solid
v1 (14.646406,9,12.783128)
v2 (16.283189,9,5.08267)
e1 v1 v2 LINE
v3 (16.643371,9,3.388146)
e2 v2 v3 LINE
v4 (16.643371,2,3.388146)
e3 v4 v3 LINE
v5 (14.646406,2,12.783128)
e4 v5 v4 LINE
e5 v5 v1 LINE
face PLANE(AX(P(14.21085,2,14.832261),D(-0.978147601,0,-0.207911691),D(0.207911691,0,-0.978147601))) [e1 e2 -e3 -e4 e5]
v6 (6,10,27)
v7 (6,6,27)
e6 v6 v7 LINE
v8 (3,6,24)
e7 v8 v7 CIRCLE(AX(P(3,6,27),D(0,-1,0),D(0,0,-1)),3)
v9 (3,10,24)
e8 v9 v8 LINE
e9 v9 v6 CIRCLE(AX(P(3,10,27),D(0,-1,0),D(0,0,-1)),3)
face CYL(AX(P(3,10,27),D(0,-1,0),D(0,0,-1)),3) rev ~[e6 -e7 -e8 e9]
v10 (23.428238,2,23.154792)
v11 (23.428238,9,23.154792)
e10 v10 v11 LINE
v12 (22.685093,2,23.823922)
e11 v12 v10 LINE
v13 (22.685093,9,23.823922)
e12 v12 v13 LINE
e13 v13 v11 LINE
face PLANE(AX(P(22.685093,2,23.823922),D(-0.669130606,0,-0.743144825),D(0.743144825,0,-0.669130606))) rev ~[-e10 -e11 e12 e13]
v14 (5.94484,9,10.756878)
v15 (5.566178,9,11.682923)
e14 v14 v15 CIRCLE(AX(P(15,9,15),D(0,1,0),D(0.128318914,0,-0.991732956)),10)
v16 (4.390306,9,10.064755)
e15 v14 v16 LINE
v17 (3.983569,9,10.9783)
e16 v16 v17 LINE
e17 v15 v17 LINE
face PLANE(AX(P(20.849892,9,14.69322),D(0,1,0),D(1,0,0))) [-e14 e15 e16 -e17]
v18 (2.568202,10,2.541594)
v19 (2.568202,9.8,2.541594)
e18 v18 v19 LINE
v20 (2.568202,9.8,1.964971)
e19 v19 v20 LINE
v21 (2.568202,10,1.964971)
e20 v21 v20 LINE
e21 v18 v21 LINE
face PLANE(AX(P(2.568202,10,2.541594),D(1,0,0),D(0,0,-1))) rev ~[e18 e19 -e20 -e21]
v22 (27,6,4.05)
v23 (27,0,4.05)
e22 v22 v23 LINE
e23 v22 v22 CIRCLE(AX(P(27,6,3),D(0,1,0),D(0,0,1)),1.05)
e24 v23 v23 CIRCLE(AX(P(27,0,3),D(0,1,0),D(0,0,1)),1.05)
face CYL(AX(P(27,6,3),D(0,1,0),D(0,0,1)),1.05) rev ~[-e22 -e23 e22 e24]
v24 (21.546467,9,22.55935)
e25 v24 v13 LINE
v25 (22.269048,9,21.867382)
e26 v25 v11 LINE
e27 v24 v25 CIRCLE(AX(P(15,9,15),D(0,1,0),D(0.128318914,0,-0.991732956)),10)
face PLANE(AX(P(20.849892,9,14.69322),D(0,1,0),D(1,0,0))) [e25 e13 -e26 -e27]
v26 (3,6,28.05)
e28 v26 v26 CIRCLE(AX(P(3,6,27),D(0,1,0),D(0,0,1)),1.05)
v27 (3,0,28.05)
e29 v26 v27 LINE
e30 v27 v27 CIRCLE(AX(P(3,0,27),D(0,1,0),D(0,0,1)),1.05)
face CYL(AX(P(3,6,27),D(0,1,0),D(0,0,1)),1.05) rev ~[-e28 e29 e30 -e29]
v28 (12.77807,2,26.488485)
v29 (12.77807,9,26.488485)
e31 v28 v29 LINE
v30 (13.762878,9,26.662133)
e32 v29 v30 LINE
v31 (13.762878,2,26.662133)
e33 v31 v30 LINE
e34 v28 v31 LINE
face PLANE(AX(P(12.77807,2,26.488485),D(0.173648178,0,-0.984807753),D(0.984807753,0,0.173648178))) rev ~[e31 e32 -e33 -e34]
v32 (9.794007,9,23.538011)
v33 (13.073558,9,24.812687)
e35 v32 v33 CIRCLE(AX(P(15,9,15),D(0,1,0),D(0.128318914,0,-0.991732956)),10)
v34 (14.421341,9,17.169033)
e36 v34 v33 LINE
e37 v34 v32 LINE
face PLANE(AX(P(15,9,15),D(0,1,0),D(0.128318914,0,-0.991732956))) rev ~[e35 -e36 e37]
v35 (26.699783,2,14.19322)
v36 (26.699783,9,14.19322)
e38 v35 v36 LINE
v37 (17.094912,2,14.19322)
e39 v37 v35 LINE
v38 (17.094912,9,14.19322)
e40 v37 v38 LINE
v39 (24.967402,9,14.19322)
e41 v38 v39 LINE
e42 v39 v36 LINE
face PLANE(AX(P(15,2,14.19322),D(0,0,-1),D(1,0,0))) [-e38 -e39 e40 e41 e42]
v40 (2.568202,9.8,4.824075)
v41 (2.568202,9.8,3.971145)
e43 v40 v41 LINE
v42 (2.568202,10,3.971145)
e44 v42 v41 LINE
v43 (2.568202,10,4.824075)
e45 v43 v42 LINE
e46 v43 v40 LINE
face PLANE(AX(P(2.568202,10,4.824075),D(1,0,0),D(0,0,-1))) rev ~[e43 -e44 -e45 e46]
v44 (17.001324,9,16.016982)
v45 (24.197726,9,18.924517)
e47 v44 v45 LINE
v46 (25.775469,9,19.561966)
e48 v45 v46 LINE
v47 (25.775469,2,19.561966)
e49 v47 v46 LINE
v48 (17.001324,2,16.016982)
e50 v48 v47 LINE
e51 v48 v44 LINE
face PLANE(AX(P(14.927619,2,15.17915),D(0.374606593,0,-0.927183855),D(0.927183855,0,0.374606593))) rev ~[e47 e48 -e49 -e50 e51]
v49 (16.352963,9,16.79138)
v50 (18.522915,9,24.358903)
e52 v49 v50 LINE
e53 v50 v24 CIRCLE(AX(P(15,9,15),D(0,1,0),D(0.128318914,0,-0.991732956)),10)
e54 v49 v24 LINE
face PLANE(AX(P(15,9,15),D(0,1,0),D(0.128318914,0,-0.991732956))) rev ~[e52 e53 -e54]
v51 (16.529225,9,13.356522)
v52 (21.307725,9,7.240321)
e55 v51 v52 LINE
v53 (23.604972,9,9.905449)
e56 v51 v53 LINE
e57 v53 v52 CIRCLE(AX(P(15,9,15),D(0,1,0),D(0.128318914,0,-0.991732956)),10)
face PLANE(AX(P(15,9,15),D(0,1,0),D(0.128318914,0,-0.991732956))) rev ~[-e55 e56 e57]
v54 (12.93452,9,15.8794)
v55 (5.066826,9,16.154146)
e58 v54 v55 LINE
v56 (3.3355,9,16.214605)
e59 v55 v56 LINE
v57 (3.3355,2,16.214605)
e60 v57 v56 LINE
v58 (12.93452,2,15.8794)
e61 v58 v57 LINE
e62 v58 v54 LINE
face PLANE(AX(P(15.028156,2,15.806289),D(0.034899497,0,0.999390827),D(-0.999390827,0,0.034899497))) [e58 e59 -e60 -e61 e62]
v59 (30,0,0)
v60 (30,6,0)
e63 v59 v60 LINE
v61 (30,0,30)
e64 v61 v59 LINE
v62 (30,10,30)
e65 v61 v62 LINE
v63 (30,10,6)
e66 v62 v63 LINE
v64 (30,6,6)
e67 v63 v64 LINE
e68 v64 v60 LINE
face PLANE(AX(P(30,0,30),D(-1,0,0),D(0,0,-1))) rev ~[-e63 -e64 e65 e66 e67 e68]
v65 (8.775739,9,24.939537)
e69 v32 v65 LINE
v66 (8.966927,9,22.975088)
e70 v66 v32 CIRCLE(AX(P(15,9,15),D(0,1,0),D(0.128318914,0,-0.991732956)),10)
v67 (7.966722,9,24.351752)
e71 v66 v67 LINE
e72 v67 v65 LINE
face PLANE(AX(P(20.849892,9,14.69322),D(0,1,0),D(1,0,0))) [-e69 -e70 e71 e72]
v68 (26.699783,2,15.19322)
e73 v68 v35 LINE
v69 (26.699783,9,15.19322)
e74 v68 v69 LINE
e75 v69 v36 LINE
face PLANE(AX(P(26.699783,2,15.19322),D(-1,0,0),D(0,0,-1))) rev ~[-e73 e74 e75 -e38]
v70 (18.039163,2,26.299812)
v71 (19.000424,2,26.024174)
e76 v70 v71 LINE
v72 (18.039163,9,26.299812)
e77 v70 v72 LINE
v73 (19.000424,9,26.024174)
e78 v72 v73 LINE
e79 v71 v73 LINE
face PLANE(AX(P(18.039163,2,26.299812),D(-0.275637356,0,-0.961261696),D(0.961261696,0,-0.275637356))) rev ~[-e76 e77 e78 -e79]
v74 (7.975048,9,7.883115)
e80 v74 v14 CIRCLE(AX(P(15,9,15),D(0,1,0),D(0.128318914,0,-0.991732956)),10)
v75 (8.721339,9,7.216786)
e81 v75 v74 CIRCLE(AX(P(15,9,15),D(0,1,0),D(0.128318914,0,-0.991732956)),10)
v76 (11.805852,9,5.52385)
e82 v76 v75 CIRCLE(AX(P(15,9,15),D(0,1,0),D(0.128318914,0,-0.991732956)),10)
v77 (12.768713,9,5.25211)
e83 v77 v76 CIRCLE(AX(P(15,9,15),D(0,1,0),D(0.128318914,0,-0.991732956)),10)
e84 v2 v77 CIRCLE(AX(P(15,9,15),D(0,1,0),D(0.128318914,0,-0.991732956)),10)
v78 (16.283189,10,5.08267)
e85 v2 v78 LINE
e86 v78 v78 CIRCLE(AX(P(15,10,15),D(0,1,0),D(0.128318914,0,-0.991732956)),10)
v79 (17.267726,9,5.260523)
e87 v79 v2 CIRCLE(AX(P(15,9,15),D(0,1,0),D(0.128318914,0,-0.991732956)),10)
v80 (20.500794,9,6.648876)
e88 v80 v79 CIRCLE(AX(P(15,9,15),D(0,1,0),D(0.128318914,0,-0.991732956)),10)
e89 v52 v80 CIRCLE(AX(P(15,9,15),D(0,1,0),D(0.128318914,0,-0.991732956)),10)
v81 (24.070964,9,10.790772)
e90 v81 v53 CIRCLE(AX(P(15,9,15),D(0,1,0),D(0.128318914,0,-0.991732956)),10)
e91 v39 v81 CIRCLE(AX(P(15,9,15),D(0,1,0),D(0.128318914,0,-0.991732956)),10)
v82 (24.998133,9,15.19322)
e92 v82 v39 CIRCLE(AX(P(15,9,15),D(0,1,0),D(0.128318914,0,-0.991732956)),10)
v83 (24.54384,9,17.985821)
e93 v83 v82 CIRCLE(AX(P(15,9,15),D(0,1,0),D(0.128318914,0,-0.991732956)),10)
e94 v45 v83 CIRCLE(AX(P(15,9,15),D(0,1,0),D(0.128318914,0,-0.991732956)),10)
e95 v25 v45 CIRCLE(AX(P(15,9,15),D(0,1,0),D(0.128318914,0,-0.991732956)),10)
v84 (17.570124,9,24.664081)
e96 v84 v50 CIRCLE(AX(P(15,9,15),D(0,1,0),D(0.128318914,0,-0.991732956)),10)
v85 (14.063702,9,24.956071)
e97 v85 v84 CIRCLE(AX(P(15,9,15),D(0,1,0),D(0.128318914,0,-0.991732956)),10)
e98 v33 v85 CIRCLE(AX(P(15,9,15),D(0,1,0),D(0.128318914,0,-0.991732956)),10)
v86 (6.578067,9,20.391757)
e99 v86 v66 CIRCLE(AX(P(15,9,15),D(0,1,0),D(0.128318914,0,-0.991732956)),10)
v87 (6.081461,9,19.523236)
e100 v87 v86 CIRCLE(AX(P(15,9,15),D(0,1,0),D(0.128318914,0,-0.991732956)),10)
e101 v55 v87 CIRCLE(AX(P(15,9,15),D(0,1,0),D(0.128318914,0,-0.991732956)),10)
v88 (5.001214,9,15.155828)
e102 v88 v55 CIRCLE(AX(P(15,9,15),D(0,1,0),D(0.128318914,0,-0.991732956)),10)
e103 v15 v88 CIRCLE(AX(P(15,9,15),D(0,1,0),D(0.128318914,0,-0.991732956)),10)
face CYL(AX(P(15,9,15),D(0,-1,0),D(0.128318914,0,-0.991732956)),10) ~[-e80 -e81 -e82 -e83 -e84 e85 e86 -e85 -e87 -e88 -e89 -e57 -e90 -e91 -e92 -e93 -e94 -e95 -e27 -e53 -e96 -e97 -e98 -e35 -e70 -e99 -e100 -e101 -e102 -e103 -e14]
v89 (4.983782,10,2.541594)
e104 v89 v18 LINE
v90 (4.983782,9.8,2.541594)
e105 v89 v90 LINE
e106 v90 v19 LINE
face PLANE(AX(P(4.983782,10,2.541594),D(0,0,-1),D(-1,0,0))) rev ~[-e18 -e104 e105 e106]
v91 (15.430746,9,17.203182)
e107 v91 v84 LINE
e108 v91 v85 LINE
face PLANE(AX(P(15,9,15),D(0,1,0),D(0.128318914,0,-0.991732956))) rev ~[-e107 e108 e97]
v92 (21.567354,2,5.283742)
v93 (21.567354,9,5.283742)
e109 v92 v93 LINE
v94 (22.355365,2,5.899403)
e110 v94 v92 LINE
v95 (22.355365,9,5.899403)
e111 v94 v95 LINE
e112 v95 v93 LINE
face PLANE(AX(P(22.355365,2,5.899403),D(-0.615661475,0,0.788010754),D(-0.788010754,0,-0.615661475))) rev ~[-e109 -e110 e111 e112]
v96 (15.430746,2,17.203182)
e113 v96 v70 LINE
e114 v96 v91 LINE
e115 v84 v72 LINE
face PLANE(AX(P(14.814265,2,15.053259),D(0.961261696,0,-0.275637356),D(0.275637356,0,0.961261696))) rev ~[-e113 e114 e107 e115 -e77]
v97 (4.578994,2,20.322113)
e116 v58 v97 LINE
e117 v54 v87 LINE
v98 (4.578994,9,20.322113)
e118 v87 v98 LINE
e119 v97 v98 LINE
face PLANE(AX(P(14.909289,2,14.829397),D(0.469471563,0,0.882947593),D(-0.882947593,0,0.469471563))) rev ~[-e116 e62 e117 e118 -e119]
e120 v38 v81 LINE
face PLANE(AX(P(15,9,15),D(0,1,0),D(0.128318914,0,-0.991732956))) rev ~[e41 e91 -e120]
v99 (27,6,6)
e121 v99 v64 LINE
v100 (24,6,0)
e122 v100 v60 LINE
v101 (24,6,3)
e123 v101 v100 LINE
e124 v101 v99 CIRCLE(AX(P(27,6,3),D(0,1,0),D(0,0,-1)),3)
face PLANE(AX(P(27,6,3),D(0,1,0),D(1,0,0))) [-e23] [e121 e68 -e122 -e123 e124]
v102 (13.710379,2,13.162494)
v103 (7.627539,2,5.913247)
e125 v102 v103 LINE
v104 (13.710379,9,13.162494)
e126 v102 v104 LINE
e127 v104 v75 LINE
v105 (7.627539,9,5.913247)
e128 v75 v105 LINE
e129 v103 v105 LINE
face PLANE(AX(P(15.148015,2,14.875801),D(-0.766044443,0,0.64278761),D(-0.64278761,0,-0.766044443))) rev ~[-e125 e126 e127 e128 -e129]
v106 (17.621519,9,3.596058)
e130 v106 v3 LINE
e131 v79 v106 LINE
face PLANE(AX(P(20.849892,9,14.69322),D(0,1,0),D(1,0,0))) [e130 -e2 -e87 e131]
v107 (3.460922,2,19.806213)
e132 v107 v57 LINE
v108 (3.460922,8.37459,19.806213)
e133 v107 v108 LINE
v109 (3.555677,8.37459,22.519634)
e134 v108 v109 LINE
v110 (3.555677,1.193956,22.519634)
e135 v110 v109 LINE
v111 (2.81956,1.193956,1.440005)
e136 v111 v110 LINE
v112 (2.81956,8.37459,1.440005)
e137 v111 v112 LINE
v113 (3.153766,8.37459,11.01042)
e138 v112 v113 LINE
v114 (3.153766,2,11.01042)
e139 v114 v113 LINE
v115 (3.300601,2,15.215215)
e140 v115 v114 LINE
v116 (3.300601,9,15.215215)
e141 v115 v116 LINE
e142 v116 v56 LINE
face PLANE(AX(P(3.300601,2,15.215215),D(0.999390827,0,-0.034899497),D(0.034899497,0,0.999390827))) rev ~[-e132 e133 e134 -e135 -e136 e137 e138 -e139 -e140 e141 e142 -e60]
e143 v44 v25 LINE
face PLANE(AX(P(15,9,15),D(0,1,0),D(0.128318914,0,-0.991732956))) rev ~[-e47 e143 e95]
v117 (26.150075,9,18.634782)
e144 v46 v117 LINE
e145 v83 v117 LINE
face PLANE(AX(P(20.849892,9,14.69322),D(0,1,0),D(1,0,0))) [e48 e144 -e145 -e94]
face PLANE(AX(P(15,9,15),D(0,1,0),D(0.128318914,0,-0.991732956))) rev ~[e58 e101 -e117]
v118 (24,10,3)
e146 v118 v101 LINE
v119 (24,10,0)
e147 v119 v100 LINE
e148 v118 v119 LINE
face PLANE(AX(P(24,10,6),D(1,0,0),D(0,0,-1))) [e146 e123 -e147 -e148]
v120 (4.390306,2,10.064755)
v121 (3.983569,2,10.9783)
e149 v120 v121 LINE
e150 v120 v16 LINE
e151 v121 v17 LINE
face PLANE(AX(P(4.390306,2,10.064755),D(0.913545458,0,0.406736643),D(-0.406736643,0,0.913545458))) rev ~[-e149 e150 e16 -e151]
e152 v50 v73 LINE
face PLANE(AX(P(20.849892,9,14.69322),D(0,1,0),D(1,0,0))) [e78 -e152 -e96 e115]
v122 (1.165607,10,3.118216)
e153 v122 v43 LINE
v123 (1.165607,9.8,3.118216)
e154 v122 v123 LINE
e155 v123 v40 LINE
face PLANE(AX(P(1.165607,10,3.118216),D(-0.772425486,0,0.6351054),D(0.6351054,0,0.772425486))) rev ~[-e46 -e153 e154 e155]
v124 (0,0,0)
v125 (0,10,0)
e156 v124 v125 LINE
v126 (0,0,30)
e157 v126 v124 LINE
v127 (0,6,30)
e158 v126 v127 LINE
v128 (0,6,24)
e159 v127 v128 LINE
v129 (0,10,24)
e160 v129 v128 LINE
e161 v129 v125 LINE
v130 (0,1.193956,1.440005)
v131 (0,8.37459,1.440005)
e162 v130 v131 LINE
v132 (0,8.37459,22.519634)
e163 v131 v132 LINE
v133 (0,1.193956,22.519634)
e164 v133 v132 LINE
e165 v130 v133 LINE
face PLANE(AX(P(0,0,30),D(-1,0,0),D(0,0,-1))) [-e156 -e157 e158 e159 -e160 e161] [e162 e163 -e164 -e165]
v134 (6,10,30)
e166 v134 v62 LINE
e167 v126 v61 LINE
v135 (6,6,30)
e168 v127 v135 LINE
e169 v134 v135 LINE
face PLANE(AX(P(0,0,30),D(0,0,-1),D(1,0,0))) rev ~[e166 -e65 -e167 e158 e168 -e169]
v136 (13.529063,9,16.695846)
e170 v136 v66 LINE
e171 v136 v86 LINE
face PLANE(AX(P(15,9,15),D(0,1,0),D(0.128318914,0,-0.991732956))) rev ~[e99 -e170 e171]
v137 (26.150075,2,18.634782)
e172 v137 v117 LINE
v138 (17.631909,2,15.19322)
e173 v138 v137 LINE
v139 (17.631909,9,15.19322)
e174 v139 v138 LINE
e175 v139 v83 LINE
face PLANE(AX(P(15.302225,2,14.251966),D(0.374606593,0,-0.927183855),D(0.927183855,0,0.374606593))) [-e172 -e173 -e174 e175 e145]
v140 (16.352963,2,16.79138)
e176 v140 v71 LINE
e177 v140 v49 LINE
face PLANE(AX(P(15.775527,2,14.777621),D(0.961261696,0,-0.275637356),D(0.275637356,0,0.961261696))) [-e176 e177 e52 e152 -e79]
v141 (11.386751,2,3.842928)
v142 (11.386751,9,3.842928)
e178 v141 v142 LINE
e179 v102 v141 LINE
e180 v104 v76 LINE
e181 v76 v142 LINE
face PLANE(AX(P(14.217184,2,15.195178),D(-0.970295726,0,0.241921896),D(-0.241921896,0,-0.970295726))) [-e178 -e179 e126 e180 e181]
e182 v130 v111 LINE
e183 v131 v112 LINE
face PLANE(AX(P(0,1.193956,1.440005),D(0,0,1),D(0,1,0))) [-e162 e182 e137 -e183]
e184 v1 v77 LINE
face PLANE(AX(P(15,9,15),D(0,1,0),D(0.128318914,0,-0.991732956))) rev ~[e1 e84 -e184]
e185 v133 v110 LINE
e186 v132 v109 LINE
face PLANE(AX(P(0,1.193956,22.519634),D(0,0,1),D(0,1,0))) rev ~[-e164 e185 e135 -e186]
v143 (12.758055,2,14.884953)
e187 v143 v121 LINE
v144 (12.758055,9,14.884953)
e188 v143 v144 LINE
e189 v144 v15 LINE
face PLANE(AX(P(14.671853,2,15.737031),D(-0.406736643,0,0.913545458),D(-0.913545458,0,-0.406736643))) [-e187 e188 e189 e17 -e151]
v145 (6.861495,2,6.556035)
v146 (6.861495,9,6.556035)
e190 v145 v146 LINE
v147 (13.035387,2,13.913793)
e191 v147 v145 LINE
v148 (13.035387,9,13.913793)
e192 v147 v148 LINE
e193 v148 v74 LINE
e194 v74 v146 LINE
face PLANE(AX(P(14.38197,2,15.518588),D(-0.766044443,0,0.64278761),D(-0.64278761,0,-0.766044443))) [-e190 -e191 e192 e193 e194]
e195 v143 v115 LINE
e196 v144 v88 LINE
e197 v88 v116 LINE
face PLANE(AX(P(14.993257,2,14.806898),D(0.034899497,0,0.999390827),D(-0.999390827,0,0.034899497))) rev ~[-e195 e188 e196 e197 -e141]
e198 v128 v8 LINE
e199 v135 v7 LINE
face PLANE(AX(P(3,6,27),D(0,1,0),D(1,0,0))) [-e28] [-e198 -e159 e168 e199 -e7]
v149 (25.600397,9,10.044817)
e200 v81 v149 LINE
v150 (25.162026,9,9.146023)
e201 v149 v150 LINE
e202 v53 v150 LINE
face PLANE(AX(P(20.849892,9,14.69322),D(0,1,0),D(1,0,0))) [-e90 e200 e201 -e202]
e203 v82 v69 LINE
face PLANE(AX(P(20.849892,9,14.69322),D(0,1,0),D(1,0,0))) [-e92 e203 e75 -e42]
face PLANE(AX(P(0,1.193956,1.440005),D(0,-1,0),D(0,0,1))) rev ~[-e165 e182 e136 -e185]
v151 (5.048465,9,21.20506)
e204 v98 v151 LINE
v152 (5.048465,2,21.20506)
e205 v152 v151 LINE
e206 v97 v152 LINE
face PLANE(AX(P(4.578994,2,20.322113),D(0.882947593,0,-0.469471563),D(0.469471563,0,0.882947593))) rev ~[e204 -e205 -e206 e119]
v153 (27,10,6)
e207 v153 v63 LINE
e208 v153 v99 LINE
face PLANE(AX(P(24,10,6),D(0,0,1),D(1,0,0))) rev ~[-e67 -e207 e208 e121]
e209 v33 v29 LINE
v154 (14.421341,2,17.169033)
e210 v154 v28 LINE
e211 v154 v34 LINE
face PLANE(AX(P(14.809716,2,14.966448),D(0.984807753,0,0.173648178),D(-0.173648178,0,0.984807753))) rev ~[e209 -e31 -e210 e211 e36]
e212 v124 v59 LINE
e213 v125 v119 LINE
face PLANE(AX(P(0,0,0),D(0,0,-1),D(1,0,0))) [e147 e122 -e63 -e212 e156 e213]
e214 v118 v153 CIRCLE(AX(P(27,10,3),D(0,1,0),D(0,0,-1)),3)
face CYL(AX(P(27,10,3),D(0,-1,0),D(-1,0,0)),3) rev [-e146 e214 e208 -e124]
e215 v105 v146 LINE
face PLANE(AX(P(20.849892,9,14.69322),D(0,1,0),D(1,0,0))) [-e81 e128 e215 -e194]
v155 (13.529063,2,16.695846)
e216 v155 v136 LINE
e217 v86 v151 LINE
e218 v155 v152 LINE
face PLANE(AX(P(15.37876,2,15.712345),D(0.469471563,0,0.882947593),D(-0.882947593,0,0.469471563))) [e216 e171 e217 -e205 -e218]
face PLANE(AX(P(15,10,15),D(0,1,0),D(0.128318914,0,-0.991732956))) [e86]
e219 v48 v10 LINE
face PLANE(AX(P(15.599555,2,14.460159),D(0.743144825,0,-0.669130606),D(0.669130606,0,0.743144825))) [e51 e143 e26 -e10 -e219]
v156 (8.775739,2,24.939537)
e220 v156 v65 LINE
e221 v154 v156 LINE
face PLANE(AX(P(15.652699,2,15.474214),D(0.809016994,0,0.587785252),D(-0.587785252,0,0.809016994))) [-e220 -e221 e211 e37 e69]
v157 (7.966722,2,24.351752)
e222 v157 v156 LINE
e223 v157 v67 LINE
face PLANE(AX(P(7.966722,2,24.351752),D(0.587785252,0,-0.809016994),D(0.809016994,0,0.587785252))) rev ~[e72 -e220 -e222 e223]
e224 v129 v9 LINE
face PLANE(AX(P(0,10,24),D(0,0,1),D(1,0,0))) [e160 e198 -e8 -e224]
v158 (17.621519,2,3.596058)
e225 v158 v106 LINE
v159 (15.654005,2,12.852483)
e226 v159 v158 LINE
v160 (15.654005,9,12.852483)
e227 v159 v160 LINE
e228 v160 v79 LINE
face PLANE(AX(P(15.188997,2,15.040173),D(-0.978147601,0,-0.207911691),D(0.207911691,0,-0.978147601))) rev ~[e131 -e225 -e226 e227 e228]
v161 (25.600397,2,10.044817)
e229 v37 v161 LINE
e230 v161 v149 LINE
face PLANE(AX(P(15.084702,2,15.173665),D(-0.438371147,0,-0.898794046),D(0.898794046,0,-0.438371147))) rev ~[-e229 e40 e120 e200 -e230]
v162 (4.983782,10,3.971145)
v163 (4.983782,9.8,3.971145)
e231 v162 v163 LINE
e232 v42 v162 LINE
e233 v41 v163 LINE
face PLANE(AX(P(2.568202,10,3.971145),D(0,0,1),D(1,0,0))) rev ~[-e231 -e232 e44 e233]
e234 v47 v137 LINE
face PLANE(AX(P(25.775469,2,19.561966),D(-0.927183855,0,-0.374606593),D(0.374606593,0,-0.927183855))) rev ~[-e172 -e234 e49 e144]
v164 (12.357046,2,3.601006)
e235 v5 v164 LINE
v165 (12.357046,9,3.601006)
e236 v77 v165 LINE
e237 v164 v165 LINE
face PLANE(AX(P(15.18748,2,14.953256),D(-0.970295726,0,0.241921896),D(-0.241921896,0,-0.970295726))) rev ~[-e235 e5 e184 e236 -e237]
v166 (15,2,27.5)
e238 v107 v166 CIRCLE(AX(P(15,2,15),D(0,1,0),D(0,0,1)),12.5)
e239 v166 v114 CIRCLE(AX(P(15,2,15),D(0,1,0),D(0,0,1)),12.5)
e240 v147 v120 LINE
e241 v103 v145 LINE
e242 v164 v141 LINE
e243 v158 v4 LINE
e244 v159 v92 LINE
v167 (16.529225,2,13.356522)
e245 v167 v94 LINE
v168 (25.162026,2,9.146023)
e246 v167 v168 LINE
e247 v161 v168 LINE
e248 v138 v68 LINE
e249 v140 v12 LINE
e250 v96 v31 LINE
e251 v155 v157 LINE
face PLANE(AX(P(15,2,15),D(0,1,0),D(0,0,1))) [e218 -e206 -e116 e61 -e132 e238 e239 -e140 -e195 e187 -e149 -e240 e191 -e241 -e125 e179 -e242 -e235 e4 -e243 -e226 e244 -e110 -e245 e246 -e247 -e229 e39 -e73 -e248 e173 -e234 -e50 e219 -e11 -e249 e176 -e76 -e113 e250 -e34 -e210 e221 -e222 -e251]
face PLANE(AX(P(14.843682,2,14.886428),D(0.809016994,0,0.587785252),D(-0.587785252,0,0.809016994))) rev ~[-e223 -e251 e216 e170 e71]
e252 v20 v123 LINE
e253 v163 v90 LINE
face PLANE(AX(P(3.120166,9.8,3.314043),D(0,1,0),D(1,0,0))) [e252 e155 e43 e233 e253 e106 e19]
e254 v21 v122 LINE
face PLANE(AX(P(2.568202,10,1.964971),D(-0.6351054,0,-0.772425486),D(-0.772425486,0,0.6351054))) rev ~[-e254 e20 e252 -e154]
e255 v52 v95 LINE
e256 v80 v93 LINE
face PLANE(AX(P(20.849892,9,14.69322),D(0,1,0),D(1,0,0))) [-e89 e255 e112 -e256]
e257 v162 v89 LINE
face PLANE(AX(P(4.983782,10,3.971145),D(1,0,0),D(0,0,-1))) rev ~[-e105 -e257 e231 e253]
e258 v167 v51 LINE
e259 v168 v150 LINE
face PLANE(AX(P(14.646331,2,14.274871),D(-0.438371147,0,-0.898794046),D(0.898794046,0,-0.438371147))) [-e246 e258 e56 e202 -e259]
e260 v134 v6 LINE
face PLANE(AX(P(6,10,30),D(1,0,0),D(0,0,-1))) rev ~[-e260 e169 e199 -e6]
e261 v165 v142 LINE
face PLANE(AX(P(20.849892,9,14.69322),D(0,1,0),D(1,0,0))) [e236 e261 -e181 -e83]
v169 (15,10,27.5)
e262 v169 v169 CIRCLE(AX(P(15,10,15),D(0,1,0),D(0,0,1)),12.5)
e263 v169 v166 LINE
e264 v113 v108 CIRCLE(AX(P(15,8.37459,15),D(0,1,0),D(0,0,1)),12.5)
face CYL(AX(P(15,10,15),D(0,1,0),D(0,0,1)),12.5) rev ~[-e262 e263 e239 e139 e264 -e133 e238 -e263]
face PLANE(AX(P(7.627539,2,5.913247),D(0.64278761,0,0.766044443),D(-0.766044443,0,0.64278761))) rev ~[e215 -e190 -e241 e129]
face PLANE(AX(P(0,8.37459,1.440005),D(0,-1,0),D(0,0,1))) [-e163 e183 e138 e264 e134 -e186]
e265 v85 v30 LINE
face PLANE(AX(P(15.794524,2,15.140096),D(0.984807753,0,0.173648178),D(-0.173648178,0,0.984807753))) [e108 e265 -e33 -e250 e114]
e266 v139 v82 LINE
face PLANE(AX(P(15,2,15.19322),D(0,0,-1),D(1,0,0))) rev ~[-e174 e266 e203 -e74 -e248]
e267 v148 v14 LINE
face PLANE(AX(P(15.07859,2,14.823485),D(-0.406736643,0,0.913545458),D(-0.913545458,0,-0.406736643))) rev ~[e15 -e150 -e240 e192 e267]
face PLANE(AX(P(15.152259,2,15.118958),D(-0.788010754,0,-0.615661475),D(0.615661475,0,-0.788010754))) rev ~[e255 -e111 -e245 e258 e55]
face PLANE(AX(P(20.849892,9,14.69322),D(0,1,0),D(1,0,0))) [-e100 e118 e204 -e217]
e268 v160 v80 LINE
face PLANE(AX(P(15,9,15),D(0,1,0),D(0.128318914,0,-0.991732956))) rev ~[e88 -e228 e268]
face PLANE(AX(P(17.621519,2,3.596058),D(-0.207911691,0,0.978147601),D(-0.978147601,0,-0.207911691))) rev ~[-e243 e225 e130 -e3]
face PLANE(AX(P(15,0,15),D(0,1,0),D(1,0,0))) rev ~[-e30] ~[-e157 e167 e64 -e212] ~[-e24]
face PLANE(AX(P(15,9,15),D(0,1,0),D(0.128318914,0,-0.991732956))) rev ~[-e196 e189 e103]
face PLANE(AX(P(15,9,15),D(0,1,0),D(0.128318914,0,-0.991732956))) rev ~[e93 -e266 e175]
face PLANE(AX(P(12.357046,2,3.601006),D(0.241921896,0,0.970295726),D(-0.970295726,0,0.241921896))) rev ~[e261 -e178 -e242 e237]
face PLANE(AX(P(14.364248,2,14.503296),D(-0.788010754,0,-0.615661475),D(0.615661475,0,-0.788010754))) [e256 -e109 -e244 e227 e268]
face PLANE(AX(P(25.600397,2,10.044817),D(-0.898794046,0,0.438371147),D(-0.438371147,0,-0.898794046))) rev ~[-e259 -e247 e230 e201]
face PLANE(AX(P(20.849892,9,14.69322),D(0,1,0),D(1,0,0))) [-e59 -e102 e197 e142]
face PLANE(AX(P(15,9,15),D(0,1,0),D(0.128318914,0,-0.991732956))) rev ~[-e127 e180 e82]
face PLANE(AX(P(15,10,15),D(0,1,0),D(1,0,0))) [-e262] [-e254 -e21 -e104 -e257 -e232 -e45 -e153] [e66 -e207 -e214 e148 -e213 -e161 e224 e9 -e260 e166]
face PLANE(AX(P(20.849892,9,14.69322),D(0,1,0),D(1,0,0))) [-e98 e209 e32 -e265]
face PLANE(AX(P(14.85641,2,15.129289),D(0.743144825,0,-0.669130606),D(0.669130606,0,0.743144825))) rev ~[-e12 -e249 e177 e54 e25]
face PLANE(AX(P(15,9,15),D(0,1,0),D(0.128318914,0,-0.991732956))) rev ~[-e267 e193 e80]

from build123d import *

# Parameters (mm, degrees)
SKETCH_1_W               = 30
SKETCH_1_H               = 30
EXTRUDE_1_DEPTH          = 10
SKETCH_2_W               = 6
SKETCH_2_H               = 6
CUT_EXTRUDE_1_DEPTH      = 4
SKETCH_3_R               = 12.5
CUT_EXTRUDE_2_DEPTH      = 8
FILLET_1_R               = 3
FILLET_2_R               = 3
CUT_EXTRUDE_3_DEPTH      = 0.2
SKETCH_5_R               = 1.05
CUT_EXTRUDE_4_DEPTH      = 10
SKETCH_6_W               = 11.699783002
SKETCH_6_H               = 1
EXTRUDE_2_DEPTH          = 7
PATTERN_CIRCULAR_1_COUNT = 14
PATTERN_CIRCULAR_1_ANGLE = 338
CUT_EXTRUDE_6_REACH      = 45.589
SKETCH_8_W               = 21.07962881
SKETCH_8_H               = 7.180633791
SKETCH_7_R               = 10
EXTRUDE_3_DEPTH          = 1


with BuildPart() as part:
    # 草图1 → 凸台-拉伸1 (new body)
    with BuildSketch(Plane(origin=(0, 0, 0), x_dir=(1, 0, 0), z_dir=(0, 1, 0))):
        with Locations((15, -15)):
            Rectangle(SKETCH_1_W, SKETCH_1_H)
    extrude(amount=EXTRUDE_1_DEPTH)

    # 草图2 → 切除-拉伸1 (cut)
    with BuildSketch(Plane(origin=(0, 10, 0), x_dir=(1, 0, 0), z_dir=(0, 1, 0))):
        with Locations((3, -27)):
            Rectangle(SKETCH_2_W, SKETCH_2_H)
        with Locations((27, -3)):
            Rectangle(SKETCH_2_W, SKETCH_2_H)
    extrude(amount=-CUT_EXTRUDE_1_DEPTH, mode=Mode.SUBTRACT)

    # 草图3 → 切除-拉伸2 (cut)
    with BuildSketch(Plane(origin=(0, 10, 0), x_dir=(1, 0, 0), z_dir=(0, 1, 0))):
        with Locations(Location((15, -15, 0), (0, 0, 270))):
            Circle(SKETCH_3_R)
    extrude(amount=-CUT_EXTRUDE_2_DEPTH, mode=Mode.SUBTRACT)

    # 圆角1
    fillet_1_edges = [part.edges().sort_by_distance(p)[0] for p in [
        (6, 8, 24),
    ]]
    fillet(fillet_1_edges, radius=FILLET_1_R)

    # 圆角2
    fillet_2_edges = [part.edges().sort_by_distance(p)[0] for p in [
        (24, 8, 6),
    ]]
    fillet(fillet_2_edges, radius=FILLET_2_R)

    # 草图4 → 切除-拉伸3 (cut)
    with BuildSketch(Plane(origin=(0, 10, 0), x_dir=(1, 0, 0), z_dir=(0, 1, 0))):
        Polygon((2.568201557, -1.964971172), (1.165606626, -3.118215893), (2.568201557, -4.824074593), (2.568201557, -3.971145243), (4.983781716, -3.971145243), (4.983781716, -2.541593533), (2.568201557, -2.541593533), align=None)
    extrude(amount=-CUT_EXTRUDE_3_DEPTH, mode=Mode.SUBTRACT)

    # 草图5 → 切除-拉伸4 (cut)
    with BuildSketch(Plane(origin=(0, 6, 0), x_dir=(1, 0, 0), z_dir=(0, 1, 0))):
        with Locations(Location((3, -27, 0), (0, 0, 270))):
            Circle(SKETCH_5_R)
        with Locations(Location((27, -3, 0), (0, 0, 270))):
            Circle(SKETCH_5_R)
    extrude(amount=-CUT_EXTRUDE_4_DEPTH, mode=Mode.SUBTRACT)

    # 草图6 → 凸台-拉伸2 (add)
    with BuildSketch(Plane(origin=(0, 2, 0), x_dir=(1, 0, 0), z_dir=(0, 1, 0))):
        with Locations((20.849891501, -14.693219625)):
            Rectangle(SKETCH_6_W, SKETCH_6_H)
    extrude_2 = extrude(amount=EXTRUDE_2_DEPTH)

    # 阵列(圆周)1: 凸台-拉伸2 ×14 about axis
    pattern_circular_1_axis = Axis((15, 0, 15), (0, 1, 0))
    for i in range(1, PATTERN_CIRCULAR_1_COUNT):
        add(extrude_2.rotate(pattern_circular_1_axis, i * PATTERN_CIRCULAR_1_ANGLE / (PATTERN_CIRCULAR_1_COUNT - 1)))

    # 切除-拉伸6: up to this plane
    cut_extrude_6_end = Plane(origin=(3.335500419, 9, 16.214605444), z_dir=(0.9993908270190957, 0, -0.034899496702506666))
    # 草图8 → 切除-拉伸6 (cut, up to the surface)
    with BuildSketch(Plane.ZY, mode=Mode.PRIVATE) as cut_extrude_6_sk1:
        with Locations((11.979819264, 4.784272805)):
            Rectangle(SKETCH_8_W, SKETCH_8_H)
    cut_extrude_6_tool1 = split(extrude(cut_extrude_6_sk1.sketch, amount=-CUT_EXTRUDE_6_REACH, mode=Mode.PRIVATE), bisect_by=cut_extrude_6_end, keep=Keep.BOTH, mode=Mode.PRIVATE)
    add(cut_extrude_6_tool1.solids().sort_by_distance((0, 4.784273, 11.979819))[0], mode=Mode.SUBTRACT)

    # 草图7 → 凸台-拉伸3 (add)
    with BuildSketch(Plane(origin=(0, 9, 0), x_dir=(1, 0, 0), z_dir=(0, 1, 0))):
        with Locations(Location((15, -15, 0), (0, 0, 82.627540404))):
            Circle(SKETCH_7_R)
    extrude(amount=EXTRUDE_3_DEPTH)


solid = part.part
